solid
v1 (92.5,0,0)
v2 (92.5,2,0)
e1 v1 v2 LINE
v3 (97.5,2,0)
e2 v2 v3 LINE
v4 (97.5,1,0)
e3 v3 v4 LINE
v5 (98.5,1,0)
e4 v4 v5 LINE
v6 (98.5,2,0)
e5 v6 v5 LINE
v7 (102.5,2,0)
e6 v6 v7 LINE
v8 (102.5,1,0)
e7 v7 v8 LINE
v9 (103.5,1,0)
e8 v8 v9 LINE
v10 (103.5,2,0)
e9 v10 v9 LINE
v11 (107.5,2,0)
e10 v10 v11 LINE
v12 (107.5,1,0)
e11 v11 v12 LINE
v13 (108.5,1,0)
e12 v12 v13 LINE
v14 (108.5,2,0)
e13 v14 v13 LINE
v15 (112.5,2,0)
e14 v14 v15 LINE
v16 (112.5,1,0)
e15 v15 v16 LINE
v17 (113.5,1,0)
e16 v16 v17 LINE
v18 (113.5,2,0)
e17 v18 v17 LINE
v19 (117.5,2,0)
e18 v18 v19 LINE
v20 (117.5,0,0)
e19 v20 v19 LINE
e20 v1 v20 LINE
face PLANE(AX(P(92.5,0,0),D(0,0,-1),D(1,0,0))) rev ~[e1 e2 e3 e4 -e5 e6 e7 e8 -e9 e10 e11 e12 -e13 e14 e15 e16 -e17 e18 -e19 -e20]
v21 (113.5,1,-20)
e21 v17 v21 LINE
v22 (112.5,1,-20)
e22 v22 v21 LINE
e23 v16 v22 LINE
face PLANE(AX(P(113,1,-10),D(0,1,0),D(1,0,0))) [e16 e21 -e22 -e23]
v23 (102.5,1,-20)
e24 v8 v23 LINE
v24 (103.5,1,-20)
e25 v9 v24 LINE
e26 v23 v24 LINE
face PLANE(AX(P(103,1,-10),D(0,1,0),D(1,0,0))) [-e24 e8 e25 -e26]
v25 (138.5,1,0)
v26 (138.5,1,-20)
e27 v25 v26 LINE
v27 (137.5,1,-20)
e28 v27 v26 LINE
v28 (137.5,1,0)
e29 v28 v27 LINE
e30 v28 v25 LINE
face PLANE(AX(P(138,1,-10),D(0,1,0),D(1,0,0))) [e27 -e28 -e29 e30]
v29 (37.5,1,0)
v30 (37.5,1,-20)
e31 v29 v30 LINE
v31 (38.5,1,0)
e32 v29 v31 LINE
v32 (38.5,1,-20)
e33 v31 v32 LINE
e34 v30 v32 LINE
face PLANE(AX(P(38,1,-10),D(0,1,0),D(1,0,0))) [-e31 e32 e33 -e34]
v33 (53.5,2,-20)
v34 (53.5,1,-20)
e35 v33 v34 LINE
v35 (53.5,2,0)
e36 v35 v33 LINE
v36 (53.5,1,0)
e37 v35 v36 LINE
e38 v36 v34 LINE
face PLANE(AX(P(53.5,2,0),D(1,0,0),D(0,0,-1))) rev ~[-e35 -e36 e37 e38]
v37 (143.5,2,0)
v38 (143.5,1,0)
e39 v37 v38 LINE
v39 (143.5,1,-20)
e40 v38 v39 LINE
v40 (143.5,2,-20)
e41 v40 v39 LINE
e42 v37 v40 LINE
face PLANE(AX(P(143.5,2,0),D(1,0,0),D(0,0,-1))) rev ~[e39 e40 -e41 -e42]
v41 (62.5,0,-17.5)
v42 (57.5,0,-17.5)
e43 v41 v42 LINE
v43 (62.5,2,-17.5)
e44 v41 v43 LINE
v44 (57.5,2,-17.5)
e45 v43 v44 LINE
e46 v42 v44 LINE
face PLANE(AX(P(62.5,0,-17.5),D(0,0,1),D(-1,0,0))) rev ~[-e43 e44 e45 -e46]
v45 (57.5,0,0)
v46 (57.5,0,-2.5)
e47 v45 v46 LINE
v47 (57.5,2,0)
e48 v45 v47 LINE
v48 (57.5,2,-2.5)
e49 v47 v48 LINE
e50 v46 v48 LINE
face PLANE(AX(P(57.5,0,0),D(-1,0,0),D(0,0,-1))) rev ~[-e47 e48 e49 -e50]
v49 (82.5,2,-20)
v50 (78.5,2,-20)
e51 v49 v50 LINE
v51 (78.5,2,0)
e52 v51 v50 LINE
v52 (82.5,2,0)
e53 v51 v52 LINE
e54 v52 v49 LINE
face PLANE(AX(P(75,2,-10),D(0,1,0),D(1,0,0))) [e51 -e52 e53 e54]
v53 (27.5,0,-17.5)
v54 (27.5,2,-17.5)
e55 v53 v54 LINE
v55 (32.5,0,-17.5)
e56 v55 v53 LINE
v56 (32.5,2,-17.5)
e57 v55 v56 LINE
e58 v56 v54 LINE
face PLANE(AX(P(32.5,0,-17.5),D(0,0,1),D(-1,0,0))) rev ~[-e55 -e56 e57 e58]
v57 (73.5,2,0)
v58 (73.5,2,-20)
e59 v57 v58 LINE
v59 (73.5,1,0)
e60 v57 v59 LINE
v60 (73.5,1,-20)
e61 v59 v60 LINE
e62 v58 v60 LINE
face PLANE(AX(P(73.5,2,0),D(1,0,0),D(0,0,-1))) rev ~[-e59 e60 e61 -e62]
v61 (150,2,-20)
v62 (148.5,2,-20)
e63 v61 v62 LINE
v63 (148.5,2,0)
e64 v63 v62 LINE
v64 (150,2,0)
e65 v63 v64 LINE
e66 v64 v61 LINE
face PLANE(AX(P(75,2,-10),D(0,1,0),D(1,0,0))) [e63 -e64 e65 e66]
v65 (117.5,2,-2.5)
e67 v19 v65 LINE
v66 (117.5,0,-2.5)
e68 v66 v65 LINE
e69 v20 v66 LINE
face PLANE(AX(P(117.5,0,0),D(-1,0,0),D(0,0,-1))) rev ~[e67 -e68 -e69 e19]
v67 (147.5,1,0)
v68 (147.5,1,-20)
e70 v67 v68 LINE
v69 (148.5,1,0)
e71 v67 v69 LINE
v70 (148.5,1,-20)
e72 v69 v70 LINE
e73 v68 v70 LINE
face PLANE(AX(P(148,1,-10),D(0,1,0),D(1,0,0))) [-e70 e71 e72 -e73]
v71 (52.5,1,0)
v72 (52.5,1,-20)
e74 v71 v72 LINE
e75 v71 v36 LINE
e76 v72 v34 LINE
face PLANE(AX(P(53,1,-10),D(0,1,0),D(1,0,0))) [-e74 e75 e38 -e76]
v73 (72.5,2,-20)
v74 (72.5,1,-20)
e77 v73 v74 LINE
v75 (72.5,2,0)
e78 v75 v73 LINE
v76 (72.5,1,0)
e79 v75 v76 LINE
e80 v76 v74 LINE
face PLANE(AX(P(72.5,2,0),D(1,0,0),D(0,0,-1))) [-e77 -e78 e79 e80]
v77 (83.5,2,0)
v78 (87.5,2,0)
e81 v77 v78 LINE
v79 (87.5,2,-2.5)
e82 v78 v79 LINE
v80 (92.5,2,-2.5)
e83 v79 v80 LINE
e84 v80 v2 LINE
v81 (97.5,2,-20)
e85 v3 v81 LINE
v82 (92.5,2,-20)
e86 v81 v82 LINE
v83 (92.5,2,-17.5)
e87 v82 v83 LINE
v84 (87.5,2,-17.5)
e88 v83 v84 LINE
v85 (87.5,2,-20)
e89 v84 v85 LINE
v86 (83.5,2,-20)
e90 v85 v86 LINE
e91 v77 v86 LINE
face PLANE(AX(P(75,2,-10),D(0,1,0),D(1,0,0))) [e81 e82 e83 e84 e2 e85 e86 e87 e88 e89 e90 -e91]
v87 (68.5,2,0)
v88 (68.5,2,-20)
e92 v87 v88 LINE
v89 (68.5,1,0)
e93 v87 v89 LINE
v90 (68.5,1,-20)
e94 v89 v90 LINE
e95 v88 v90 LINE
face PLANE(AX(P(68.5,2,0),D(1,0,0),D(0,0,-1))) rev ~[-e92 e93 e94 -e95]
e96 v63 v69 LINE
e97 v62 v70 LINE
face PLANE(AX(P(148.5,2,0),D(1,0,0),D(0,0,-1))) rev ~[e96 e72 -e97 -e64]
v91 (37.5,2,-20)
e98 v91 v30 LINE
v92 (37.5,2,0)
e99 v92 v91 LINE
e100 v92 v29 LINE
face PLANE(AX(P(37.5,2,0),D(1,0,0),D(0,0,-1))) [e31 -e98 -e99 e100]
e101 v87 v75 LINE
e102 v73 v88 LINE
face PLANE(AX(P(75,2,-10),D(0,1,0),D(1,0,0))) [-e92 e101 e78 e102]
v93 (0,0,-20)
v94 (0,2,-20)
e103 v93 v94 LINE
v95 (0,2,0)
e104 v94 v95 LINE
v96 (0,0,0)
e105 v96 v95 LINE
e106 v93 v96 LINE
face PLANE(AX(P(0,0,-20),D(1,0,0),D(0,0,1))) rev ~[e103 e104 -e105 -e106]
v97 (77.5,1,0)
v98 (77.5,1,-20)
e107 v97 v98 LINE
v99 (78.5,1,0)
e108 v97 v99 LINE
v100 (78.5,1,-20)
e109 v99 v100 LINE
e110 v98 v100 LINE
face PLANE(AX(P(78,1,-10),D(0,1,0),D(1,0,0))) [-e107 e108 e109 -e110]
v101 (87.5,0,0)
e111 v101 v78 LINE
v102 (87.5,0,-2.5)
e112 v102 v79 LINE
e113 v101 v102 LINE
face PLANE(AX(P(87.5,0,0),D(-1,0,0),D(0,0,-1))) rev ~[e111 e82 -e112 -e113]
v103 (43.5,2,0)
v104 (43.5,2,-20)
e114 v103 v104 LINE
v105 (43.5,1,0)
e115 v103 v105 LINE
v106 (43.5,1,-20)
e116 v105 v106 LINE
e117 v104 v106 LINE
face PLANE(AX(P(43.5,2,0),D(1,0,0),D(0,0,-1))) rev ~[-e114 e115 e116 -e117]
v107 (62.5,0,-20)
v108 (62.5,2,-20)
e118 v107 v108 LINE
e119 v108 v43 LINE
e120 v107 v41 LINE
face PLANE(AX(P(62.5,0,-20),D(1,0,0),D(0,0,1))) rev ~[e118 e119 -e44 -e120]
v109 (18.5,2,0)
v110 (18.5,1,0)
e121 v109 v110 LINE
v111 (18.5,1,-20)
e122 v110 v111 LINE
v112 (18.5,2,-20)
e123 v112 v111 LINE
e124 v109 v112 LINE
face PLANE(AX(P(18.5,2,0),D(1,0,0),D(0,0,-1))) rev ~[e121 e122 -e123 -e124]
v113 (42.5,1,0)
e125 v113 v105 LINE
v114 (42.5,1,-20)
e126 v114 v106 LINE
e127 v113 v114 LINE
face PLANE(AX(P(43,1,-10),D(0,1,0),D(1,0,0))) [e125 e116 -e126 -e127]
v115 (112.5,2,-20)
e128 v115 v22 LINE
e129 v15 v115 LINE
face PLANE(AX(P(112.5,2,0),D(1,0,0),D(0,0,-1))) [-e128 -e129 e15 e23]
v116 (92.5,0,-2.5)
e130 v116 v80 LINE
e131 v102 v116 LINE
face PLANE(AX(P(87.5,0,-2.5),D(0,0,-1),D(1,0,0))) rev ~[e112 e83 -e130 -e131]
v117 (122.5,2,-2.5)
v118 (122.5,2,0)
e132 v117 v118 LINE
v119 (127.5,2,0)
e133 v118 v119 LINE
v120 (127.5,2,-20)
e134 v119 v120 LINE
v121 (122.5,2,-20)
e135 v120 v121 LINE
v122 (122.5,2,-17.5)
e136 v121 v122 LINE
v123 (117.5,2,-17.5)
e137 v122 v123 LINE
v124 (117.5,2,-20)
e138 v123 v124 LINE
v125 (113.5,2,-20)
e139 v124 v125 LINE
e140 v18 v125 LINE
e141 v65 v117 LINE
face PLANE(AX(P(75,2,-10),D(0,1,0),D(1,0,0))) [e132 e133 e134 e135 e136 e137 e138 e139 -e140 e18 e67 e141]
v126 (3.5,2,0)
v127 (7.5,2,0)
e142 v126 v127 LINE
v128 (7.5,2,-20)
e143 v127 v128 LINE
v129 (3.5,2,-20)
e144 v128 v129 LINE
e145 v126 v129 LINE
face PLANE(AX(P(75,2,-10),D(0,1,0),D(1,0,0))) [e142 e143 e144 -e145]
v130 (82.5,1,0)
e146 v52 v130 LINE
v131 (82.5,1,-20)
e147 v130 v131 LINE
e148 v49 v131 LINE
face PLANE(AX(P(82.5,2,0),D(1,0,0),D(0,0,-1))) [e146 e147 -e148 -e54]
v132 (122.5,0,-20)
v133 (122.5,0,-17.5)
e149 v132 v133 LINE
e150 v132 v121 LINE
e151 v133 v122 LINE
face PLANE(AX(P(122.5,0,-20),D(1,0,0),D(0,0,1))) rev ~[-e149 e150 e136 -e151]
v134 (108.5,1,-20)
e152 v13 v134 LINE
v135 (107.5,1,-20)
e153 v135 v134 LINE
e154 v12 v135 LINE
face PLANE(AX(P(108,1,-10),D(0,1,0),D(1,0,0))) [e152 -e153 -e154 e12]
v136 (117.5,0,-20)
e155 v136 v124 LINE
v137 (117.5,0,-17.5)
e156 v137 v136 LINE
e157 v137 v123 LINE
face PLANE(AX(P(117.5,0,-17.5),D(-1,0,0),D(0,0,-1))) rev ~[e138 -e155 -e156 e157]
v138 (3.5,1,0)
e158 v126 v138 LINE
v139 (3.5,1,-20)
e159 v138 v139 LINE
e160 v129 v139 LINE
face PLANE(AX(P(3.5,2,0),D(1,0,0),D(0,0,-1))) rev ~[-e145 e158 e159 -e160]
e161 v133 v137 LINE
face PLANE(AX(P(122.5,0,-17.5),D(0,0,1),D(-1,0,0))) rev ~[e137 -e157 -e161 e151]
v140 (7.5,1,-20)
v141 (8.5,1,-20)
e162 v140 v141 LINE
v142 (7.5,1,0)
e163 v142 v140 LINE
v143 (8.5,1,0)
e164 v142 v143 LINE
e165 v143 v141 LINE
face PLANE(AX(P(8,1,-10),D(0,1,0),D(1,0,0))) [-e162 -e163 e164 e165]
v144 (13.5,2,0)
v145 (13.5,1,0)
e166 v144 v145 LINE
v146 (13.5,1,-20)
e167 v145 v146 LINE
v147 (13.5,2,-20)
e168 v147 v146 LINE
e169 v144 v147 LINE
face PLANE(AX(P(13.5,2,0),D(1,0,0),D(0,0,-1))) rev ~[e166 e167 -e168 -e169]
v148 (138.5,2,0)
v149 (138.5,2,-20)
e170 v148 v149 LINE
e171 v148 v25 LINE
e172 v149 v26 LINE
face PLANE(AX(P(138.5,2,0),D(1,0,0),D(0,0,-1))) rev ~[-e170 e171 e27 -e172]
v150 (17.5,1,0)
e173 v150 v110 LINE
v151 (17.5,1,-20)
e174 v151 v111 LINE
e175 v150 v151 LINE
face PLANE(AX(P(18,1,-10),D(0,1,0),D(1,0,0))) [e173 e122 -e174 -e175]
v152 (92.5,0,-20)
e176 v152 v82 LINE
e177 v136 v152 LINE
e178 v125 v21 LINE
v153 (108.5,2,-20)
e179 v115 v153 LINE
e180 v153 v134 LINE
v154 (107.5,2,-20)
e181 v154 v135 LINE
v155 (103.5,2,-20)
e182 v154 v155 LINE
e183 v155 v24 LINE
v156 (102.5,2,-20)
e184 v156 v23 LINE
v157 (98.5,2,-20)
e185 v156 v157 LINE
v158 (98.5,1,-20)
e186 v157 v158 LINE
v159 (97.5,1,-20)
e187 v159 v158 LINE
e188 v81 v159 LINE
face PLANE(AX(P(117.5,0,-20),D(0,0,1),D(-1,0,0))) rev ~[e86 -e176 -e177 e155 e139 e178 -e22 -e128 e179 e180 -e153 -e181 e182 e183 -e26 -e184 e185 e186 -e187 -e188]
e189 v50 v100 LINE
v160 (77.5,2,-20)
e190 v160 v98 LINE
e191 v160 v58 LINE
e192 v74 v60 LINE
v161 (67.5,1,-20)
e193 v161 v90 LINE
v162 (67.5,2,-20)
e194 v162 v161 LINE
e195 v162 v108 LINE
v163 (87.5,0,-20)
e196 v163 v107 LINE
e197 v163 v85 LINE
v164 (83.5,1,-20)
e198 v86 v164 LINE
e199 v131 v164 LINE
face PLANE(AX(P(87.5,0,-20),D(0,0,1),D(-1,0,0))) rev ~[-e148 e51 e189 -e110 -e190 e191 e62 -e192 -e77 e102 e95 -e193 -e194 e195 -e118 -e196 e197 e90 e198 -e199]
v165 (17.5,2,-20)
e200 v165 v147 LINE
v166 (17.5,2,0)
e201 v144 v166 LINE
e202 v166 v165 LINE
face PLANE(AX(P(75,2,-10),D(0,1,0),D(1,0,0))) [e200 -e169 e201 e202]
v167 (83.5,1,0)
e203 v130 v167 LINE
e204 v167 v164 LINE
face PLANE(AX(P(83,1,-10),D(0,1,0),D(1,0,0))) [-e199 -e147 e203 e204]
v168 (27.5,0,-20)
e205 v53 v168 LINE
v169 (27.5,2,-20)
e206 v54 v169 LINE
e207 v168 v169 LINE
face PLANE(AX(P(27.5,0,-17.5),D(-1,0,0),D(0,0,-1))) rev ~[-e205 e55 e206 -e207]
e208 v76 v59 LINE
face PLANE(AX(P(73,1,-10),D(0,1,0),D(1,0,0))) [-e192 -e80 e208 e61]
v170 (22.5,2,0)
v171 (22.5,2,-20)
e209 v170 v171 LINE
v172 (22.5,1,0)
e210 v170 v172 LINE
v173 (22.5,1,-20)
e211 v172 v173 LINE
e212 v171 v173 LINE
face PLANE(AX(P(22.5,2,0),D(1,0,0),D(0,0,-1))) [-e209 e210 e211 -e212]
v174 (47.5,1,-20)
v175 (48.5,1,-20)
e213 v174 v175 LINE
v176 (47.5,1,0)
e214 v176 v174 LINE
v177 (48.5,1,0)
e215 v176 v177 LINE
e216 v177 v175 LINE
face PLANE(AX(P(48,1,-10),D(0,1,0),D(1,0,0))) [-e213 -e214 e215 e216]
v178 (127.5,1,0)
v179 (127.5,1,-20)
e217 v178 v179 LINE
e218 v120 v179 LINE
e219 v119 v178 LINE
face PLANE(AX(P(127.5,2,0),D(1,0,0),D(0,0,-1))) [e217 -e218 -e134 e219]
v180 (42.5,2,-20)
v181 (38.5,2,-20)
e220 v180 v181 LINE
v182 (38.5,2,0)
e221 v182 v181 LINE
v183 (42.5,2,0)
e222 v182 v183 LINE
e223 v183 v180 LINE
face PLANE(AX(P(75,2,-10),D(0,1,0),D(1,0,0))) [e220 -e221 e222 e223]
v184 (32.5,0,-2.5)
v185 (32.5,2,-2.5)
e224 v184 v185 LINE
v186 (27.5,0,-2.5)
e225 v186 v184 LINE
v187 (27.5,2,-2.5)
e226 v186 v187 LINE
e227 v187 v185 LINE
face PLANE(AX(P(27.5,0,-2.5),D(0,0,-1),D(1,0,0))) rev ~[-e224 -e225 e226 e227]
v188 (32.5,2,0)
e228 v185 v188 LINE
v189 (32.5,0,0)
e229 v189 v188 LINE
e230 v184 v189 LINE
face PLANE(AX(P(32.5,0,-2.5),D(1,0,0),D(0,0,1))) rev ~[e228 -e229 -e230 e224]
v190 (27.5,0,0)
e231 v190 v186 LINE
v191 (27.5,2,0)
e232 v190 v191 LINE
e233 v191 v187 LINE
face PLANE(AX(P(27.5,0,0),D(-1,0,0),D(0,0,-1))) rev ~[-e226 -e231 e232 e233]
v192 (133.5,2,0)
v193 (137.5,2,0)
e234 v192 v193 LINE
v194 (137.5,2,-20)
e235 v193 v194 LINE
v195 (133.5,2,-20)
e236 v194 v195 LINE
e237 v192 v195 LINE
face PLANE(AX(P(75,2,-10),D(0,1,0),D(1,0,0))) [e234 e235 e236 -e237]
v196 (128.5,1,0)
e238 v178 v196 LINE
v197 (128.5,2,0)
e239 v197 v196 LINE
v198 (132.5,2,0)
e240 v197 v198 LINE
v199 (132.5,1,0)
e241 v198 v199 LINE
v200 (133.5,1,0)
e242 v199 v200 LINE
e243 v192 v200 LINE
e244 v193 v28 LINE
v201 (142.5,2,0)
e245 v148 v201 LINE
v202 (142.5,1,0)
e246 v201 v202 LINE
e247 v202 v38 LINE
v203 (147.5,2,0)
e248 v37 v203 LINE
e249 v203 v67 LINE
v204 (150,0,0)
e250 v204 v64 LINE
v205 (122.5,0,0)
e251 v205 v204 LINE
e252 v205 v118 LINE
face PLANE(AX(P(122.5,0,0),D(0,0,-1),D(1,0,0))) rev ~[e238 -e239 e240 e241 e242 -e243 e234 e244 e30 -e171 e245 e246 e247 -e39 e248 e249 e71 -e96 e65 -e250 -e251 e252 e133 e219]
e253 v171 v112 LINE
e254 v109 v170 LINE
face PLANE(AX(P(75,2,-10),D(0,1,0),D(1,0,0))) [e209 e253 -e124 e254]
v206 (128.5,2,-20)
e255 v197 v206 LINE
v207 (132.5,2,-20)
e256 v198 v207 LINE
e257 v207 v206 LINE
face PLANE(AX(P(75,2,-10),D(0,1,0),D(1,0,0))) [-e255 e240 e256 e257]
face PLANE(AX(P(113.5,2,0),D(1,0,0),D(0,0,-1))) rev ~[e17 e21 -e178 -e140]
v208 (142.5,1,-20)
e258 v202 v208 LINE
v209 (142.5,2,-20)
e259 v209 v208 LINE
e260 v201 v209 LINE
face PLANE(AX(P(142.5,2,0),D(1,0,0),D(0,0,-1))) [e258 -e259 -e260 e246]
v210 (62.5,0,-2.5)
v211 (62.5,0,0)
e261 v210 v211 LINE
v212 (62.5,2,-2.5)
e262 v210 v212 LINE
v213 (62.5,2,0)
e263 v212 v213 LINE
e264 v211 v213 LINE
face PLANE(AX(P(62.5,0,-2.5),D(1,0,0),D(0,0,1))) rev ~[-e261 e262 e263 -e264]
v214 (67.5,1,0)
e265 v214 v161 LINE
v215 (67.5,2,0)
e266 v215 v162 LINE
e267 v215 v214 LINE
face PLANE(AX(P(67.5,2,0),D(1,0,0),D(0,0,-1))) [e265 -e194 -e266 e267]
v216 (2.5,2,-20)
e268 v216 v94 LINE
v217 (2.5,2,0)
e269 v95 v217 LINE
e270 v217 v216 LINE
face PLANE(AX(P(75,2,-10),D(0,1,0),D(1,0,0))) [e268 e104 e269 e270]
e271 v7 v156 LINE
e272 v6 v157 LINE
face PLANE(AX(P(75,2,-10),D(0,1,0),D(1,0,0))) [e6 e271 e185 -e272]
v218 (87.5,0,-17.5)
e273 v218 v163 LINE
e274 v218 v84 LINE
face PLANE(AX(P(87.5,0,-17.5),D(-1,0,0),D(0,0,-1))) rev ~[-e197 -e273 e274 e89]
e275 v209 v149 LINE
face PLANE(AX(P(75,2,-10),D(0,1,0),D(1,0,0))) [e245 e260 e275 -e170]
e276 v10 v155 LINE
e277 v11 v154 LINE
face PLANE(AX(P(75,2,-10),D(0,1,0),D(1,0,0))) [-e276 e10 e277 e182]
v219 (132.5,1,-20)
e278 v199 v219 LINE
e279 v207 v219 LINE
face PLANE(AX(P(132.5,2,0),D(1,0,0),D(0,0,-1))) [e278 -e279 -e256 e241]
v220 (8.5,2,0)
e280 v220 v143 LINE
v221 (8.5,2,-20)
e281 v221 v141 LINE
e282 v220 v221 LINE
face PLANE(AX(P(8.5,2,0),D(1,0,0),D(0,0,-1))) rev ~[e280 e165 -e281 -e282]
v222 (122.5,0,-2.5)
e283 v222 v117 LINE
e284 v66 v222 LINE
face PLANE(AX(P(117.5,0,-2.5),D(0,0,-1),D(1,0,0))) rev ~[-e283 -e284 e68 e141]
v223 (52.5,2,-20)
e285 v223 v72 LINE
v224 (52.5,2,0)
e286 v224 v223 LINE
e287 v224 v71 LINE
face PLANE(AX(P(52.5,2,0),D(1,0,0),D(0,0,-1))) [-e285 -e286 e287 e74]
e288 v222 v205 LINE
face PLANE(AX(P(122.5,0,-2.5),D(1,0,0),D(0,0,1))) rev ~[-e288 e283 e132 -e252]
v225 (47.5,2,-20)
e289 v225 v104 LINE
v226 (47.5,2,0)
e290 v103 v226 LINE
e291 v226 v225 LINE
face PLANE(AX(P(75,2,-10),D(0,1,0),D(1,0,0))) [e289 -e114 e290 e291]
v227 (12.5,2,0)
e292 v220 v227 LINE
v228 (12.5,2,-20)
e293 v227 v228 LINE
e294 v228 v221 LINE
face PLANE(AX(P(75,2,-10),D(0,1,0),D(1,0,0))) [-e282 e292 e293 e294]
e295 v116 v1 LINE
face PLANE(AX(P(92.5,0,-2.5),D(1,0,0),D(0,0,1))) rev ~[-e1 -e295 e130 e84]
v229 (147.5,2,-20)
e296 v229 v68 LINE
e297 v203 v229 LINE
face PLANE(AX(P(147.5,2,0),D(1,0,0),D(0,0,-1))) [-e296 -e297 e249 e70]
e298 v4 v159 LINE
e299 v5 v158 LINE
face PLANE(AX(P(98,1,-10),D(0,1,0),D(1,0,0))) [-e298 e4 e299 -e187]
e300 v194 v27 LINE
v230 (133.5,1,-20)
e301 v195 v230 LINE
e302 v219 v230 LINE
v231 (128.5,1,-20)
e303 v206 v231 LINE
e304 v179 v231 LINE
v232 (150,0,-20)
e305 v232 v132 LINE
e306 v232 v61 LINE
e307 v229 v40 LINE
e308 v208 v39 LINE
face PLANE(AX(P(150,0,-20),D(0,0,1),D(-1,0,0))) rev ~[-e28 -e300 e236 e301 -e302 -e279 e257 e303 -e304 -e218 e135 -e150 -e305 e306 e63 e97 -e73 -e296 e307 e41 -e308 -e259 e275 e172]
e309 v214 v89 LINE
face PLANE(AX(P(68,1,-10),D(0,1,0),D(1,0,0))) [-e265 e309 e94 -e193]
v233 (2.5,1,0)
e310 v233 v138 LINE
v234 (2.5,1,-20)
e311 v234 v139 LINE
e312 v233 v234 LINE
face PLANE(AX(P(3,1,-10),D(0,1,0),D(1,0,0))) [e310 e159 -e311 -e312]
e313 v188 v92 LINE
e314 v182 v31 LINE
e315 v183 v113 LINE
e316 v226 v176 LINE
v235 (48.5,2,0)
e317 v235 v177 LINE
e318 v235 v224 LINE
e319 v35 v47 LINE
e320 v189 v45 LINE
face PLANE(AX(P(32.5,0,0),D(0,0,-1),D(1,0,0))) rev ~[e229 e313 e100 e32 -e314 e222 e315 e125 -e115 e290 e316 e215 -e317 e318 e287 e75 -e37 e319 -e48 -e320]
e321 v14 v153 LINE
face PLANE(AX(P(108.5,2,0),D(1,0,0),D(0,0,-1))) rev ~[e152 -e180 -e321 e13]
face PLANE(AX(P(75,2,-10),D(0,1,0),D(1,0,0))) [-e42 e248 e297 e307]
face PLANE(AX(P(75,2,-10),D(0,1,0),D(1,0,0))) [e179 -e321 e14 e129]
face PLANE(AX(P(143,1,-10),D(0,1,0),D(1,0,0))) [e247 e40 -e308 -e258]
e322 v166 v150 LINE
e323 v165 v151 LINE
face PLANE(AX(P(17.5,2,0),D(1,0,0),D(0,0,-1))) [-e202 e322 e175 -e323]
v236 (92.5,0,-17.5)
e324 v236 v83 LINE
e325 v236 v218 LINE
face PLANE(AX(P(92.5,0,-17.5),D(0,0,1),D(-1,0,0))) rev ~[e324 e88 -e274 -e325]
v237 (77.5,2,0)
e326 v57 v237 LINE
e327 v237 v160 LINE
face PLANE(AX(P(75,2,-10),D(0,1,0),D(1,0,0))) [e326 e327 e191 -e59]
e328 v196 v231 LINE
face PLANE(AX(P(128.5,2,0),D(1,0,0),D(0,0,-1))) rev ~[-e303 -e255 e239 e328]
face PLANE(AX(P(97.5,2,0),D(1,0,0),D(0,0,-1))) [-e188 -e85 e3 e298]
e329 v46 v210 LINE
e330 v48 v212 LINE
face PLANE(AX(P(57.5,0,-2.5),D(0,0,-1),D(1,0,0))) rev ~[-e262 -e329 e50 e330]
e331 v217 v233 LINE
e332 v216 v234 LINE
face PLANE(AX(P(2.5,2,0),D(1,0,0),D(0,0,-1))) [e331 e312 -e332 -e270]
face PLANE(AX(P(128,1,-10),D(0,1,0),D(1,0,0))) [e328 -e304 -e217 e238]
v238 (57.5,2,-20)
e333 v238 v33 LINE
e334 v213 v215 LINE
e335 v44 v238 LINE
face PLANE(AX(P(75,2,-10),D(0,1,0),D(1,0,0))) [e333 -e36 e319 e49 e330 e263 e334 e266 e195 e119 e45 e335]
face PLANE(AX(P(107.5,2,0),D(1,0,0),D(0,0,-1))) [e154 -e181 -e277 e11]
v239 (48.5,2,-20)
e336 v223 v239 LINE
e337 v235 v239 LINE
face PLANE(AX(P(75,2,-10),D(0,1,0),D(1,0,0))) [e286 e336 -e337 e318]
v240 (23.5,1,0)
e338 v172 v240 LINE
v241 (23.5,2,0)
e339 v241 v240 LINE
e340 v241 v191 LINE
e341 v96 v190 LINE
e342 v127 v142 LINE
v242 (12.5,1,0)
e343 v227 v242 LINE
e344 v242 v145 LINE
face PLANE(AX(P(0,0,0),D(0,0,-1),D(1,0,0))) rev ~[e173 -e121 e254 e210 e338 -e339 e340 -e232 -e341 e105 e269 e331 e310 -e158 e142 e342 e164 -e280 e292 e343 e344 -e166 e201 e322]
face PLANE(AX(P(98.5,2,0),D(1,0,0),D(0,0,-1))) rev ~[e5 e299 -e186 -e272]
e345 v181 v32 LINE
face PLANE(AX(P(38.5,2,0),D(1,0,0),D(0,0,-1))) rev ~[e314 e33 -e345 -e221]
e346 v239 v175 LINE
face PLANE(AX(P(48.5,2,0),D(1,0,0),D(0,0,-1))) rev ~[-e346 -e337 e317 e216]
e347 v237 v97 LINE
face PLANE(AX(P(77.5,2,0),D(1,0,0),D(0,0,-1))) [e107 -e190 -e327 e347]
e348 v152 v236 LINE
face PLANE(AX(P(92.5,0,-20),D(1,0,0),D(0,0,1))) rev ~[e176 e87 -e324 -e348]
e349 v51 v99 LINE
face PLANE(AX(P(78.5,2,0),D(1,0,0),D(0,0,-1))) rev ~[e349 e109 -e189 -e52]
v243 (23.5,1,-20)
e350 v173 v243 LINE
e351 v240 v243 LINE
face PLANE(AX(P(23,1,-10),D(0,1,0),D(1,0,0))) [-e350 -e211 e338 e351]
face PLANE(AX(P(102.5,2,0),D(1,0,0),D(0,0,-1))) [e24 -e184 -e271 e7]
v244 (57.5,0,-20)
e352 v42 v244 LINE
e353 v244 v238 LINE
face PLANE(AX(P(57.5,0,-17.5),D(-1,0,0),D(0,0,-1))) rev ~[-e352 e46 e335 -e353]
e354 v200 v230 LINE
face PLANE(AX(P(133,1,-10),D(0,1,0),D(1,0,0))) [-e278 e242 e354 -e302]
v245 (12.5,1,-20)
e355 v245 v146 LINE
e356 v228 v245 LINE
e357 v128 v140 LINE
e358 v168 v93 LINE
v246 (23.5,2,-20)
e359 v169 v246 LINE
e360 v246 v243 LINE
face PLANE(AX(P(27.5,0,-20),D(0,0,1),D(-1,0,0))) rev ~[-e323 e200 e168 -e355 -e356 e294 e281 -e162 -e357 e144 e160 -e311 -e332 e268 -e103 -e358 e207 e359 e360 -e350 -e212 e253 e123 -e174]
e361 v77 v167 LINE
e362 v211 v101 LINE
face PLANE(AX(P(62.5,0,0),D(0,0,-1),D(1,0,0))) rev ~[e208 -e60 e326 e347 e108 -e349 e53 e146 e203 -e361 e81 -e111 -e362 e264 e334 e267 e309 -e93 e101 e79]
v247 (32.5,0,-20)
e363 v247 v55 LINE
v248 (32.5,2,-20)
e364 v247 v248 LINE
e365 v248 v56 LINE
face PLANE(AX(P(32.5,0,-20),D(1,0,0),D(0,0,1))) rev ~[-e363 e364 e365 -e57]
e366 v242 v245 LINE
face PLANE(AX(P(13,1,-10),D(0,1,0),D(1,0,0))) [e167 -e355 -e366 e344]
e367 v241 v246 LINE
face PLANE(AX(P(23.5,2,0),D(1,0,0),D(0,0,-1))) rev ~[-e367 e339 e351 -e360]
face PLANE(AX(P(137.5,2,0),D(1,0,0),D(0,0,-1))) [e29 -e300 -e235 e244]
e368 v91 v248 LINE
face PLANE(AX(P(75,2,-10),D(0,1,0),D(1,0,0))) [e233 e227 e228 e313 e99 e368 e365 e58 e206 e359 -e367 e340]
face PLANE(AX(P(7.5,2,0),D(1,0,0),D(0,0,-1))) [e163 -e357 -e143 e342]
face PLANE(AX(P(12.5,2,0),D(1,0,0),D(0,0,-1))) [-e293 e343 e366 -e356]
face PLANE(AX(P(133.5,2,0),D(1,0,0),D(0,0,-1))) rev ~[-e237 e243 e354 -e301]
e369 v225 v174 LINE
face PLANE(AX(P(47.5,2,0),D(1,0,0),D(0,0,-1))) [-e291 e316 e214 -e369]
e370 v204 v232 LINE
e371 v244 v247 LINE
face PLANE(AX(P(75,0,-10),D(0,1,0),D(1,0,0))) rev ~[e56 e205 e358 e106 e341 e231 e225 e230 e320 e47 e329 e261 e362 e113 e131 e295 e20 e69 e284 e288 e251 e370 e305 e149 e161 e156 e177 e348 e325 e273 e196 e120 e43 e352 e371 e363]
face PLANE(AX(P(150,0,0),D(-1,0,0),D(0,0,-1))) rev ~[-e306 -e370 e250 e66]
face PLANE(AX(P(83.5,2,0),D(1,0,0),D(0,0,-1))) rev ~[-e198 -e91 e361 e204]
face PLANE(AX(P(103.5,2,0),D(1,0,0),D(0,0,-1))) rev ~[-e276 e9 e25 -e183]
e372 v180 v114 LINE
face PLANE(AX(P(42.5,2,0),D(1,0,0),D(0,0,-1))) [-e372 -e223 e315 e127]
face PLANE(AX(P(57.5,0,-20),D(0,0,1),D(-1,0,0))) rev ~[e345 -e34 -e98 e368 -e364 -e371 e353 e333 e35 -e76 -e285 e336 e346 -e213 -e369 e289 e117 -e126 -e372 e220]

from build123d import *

# Parameters (mm, degrees)
BOSS_EXTRUDE1_DEPTH = 2
SKETCH2_W           = 1
SKETCH2_H           = 20
CUT_EXTRUDE1_DEPTH  = 1


with BuildPart() as part:
    # Sketch1 → Boss-Extrude1 (new body)
    with BuildSketch(Plane(origin=(0, 0, 0), x_dir=(1, 0, 0), z_dir=(0, 1, 0))):
        Polygon((122.5, 2.5), (122.5, 0), (150, 0), (150, 20), (122.5, 20), (122.5, 17.5), (117.5, 17.5), (117.5, 20), (92.5, 20), (92.5, 17.5), (87.5, 17.5), (87.5, 20), (62.5, 20), (62.5, 17.5), (57.5, 17.5), (57.5, 20), (32.5, 20), (32.5, 17.5), (27.5, 17.5), (27.5, 20), (0, 20), (0, 0), (27.5, 0), (27.5, 2.5), (32.5, 2.5), (32.5, 0), (57.5, 0), (57.5, 2.5), (62.5, 2.5), (62.5, 0), (87.5, 0), (87.5, 2.5), (92.5, 2.5), (92.5, 0), (117.5, 0), (117.5, 2.5), align=None)
    extrude(amount=BOSS_EXTRUDE1_DEPTH)

    # Sketch2 → Cut-Extrude1 (cut)
    with BuildSketch(Plane(origin=(0, 2, 0), x_dir=(1, 0, 0), z_dir=(0, 1, 0))):
        with Locations((3, 10)):
            Rectangle(SKETCH2_W, SKETCH2_H)
        with Locations((8, 10)):
            Rectangle(SKETCH2_W, SKETCH2_H)
        with Locations((13, 10)):
            Rectangle(SKETCH2_W, SKETCH2_H)
        with Locations((18, 10)):
            Rectangle(SKETCH2_W, SKETCH2_H)
        with Locations((23, 10)):
            Rectangle(SKETCH2_W, SKETCH2_H)
        with Locations((38, 10)):
            Rectangle(SKETCH2_W, SKETCH2_H)
        with Locations((43, 10)):
            Rectangle(SKETCH2_W, SKETCH2_H)
        with Locations((48, 10)):
            Rectangle(SKETCH2_W, SKETCH2_H)
        with Locations((53, 10)):
            Rectangle(SKETCH2_W, SKETCH2_H)
        with Locations((68, 10)):
            Rectangle(SKETCH2_W, SKETCH2_H)
        with Locations((73, 10)):
            Rectangle(SKETCH2_W, SKETCH2_H)
        with Locations((78, 10)):
            Rectangle(SKETCH2_W, SKETCH2_H)
        with Locations((83, 10)):
            Rectangle(SKETCH2_W, SKETCH2_H)
        with Locations((98, 10)):
            Rectangle(SKETCH2_W, SKETCH2_H)
        with Locations((103, 10)):
            Rectangle(SKETCH2_W, SKETCH2_H)
        with Locations((108, 10)):
            Rectangle(SKETCH2_W, SKETCH2_H)
        with Locations((113, 10)):
            Rectangle(SKETCH2_W, SKETCH2_H)
        with Locations((128, 10)):
            Rectangle(SKETCH2_W, SKETCH2_H)
        with Locations((133, 10)):
            Rectangle(SKETCH2_W, SKETCH2_H)
        with Locations((138, 10)):
            Rectangle(SKETCH2_W, SKETCH2_H)
        with Locations((143, 10)):
            Rectangle(SKETCH2_W, SKETCH2_H)
        with Locations((148, 10)):
            Rectangle(SKETCH2_W, SKETCH2_H)
    extrude(amount=-CUT_EXTRUDE1_DEPTH, mode=Mode.SUBTRACT)


solid = part.part
